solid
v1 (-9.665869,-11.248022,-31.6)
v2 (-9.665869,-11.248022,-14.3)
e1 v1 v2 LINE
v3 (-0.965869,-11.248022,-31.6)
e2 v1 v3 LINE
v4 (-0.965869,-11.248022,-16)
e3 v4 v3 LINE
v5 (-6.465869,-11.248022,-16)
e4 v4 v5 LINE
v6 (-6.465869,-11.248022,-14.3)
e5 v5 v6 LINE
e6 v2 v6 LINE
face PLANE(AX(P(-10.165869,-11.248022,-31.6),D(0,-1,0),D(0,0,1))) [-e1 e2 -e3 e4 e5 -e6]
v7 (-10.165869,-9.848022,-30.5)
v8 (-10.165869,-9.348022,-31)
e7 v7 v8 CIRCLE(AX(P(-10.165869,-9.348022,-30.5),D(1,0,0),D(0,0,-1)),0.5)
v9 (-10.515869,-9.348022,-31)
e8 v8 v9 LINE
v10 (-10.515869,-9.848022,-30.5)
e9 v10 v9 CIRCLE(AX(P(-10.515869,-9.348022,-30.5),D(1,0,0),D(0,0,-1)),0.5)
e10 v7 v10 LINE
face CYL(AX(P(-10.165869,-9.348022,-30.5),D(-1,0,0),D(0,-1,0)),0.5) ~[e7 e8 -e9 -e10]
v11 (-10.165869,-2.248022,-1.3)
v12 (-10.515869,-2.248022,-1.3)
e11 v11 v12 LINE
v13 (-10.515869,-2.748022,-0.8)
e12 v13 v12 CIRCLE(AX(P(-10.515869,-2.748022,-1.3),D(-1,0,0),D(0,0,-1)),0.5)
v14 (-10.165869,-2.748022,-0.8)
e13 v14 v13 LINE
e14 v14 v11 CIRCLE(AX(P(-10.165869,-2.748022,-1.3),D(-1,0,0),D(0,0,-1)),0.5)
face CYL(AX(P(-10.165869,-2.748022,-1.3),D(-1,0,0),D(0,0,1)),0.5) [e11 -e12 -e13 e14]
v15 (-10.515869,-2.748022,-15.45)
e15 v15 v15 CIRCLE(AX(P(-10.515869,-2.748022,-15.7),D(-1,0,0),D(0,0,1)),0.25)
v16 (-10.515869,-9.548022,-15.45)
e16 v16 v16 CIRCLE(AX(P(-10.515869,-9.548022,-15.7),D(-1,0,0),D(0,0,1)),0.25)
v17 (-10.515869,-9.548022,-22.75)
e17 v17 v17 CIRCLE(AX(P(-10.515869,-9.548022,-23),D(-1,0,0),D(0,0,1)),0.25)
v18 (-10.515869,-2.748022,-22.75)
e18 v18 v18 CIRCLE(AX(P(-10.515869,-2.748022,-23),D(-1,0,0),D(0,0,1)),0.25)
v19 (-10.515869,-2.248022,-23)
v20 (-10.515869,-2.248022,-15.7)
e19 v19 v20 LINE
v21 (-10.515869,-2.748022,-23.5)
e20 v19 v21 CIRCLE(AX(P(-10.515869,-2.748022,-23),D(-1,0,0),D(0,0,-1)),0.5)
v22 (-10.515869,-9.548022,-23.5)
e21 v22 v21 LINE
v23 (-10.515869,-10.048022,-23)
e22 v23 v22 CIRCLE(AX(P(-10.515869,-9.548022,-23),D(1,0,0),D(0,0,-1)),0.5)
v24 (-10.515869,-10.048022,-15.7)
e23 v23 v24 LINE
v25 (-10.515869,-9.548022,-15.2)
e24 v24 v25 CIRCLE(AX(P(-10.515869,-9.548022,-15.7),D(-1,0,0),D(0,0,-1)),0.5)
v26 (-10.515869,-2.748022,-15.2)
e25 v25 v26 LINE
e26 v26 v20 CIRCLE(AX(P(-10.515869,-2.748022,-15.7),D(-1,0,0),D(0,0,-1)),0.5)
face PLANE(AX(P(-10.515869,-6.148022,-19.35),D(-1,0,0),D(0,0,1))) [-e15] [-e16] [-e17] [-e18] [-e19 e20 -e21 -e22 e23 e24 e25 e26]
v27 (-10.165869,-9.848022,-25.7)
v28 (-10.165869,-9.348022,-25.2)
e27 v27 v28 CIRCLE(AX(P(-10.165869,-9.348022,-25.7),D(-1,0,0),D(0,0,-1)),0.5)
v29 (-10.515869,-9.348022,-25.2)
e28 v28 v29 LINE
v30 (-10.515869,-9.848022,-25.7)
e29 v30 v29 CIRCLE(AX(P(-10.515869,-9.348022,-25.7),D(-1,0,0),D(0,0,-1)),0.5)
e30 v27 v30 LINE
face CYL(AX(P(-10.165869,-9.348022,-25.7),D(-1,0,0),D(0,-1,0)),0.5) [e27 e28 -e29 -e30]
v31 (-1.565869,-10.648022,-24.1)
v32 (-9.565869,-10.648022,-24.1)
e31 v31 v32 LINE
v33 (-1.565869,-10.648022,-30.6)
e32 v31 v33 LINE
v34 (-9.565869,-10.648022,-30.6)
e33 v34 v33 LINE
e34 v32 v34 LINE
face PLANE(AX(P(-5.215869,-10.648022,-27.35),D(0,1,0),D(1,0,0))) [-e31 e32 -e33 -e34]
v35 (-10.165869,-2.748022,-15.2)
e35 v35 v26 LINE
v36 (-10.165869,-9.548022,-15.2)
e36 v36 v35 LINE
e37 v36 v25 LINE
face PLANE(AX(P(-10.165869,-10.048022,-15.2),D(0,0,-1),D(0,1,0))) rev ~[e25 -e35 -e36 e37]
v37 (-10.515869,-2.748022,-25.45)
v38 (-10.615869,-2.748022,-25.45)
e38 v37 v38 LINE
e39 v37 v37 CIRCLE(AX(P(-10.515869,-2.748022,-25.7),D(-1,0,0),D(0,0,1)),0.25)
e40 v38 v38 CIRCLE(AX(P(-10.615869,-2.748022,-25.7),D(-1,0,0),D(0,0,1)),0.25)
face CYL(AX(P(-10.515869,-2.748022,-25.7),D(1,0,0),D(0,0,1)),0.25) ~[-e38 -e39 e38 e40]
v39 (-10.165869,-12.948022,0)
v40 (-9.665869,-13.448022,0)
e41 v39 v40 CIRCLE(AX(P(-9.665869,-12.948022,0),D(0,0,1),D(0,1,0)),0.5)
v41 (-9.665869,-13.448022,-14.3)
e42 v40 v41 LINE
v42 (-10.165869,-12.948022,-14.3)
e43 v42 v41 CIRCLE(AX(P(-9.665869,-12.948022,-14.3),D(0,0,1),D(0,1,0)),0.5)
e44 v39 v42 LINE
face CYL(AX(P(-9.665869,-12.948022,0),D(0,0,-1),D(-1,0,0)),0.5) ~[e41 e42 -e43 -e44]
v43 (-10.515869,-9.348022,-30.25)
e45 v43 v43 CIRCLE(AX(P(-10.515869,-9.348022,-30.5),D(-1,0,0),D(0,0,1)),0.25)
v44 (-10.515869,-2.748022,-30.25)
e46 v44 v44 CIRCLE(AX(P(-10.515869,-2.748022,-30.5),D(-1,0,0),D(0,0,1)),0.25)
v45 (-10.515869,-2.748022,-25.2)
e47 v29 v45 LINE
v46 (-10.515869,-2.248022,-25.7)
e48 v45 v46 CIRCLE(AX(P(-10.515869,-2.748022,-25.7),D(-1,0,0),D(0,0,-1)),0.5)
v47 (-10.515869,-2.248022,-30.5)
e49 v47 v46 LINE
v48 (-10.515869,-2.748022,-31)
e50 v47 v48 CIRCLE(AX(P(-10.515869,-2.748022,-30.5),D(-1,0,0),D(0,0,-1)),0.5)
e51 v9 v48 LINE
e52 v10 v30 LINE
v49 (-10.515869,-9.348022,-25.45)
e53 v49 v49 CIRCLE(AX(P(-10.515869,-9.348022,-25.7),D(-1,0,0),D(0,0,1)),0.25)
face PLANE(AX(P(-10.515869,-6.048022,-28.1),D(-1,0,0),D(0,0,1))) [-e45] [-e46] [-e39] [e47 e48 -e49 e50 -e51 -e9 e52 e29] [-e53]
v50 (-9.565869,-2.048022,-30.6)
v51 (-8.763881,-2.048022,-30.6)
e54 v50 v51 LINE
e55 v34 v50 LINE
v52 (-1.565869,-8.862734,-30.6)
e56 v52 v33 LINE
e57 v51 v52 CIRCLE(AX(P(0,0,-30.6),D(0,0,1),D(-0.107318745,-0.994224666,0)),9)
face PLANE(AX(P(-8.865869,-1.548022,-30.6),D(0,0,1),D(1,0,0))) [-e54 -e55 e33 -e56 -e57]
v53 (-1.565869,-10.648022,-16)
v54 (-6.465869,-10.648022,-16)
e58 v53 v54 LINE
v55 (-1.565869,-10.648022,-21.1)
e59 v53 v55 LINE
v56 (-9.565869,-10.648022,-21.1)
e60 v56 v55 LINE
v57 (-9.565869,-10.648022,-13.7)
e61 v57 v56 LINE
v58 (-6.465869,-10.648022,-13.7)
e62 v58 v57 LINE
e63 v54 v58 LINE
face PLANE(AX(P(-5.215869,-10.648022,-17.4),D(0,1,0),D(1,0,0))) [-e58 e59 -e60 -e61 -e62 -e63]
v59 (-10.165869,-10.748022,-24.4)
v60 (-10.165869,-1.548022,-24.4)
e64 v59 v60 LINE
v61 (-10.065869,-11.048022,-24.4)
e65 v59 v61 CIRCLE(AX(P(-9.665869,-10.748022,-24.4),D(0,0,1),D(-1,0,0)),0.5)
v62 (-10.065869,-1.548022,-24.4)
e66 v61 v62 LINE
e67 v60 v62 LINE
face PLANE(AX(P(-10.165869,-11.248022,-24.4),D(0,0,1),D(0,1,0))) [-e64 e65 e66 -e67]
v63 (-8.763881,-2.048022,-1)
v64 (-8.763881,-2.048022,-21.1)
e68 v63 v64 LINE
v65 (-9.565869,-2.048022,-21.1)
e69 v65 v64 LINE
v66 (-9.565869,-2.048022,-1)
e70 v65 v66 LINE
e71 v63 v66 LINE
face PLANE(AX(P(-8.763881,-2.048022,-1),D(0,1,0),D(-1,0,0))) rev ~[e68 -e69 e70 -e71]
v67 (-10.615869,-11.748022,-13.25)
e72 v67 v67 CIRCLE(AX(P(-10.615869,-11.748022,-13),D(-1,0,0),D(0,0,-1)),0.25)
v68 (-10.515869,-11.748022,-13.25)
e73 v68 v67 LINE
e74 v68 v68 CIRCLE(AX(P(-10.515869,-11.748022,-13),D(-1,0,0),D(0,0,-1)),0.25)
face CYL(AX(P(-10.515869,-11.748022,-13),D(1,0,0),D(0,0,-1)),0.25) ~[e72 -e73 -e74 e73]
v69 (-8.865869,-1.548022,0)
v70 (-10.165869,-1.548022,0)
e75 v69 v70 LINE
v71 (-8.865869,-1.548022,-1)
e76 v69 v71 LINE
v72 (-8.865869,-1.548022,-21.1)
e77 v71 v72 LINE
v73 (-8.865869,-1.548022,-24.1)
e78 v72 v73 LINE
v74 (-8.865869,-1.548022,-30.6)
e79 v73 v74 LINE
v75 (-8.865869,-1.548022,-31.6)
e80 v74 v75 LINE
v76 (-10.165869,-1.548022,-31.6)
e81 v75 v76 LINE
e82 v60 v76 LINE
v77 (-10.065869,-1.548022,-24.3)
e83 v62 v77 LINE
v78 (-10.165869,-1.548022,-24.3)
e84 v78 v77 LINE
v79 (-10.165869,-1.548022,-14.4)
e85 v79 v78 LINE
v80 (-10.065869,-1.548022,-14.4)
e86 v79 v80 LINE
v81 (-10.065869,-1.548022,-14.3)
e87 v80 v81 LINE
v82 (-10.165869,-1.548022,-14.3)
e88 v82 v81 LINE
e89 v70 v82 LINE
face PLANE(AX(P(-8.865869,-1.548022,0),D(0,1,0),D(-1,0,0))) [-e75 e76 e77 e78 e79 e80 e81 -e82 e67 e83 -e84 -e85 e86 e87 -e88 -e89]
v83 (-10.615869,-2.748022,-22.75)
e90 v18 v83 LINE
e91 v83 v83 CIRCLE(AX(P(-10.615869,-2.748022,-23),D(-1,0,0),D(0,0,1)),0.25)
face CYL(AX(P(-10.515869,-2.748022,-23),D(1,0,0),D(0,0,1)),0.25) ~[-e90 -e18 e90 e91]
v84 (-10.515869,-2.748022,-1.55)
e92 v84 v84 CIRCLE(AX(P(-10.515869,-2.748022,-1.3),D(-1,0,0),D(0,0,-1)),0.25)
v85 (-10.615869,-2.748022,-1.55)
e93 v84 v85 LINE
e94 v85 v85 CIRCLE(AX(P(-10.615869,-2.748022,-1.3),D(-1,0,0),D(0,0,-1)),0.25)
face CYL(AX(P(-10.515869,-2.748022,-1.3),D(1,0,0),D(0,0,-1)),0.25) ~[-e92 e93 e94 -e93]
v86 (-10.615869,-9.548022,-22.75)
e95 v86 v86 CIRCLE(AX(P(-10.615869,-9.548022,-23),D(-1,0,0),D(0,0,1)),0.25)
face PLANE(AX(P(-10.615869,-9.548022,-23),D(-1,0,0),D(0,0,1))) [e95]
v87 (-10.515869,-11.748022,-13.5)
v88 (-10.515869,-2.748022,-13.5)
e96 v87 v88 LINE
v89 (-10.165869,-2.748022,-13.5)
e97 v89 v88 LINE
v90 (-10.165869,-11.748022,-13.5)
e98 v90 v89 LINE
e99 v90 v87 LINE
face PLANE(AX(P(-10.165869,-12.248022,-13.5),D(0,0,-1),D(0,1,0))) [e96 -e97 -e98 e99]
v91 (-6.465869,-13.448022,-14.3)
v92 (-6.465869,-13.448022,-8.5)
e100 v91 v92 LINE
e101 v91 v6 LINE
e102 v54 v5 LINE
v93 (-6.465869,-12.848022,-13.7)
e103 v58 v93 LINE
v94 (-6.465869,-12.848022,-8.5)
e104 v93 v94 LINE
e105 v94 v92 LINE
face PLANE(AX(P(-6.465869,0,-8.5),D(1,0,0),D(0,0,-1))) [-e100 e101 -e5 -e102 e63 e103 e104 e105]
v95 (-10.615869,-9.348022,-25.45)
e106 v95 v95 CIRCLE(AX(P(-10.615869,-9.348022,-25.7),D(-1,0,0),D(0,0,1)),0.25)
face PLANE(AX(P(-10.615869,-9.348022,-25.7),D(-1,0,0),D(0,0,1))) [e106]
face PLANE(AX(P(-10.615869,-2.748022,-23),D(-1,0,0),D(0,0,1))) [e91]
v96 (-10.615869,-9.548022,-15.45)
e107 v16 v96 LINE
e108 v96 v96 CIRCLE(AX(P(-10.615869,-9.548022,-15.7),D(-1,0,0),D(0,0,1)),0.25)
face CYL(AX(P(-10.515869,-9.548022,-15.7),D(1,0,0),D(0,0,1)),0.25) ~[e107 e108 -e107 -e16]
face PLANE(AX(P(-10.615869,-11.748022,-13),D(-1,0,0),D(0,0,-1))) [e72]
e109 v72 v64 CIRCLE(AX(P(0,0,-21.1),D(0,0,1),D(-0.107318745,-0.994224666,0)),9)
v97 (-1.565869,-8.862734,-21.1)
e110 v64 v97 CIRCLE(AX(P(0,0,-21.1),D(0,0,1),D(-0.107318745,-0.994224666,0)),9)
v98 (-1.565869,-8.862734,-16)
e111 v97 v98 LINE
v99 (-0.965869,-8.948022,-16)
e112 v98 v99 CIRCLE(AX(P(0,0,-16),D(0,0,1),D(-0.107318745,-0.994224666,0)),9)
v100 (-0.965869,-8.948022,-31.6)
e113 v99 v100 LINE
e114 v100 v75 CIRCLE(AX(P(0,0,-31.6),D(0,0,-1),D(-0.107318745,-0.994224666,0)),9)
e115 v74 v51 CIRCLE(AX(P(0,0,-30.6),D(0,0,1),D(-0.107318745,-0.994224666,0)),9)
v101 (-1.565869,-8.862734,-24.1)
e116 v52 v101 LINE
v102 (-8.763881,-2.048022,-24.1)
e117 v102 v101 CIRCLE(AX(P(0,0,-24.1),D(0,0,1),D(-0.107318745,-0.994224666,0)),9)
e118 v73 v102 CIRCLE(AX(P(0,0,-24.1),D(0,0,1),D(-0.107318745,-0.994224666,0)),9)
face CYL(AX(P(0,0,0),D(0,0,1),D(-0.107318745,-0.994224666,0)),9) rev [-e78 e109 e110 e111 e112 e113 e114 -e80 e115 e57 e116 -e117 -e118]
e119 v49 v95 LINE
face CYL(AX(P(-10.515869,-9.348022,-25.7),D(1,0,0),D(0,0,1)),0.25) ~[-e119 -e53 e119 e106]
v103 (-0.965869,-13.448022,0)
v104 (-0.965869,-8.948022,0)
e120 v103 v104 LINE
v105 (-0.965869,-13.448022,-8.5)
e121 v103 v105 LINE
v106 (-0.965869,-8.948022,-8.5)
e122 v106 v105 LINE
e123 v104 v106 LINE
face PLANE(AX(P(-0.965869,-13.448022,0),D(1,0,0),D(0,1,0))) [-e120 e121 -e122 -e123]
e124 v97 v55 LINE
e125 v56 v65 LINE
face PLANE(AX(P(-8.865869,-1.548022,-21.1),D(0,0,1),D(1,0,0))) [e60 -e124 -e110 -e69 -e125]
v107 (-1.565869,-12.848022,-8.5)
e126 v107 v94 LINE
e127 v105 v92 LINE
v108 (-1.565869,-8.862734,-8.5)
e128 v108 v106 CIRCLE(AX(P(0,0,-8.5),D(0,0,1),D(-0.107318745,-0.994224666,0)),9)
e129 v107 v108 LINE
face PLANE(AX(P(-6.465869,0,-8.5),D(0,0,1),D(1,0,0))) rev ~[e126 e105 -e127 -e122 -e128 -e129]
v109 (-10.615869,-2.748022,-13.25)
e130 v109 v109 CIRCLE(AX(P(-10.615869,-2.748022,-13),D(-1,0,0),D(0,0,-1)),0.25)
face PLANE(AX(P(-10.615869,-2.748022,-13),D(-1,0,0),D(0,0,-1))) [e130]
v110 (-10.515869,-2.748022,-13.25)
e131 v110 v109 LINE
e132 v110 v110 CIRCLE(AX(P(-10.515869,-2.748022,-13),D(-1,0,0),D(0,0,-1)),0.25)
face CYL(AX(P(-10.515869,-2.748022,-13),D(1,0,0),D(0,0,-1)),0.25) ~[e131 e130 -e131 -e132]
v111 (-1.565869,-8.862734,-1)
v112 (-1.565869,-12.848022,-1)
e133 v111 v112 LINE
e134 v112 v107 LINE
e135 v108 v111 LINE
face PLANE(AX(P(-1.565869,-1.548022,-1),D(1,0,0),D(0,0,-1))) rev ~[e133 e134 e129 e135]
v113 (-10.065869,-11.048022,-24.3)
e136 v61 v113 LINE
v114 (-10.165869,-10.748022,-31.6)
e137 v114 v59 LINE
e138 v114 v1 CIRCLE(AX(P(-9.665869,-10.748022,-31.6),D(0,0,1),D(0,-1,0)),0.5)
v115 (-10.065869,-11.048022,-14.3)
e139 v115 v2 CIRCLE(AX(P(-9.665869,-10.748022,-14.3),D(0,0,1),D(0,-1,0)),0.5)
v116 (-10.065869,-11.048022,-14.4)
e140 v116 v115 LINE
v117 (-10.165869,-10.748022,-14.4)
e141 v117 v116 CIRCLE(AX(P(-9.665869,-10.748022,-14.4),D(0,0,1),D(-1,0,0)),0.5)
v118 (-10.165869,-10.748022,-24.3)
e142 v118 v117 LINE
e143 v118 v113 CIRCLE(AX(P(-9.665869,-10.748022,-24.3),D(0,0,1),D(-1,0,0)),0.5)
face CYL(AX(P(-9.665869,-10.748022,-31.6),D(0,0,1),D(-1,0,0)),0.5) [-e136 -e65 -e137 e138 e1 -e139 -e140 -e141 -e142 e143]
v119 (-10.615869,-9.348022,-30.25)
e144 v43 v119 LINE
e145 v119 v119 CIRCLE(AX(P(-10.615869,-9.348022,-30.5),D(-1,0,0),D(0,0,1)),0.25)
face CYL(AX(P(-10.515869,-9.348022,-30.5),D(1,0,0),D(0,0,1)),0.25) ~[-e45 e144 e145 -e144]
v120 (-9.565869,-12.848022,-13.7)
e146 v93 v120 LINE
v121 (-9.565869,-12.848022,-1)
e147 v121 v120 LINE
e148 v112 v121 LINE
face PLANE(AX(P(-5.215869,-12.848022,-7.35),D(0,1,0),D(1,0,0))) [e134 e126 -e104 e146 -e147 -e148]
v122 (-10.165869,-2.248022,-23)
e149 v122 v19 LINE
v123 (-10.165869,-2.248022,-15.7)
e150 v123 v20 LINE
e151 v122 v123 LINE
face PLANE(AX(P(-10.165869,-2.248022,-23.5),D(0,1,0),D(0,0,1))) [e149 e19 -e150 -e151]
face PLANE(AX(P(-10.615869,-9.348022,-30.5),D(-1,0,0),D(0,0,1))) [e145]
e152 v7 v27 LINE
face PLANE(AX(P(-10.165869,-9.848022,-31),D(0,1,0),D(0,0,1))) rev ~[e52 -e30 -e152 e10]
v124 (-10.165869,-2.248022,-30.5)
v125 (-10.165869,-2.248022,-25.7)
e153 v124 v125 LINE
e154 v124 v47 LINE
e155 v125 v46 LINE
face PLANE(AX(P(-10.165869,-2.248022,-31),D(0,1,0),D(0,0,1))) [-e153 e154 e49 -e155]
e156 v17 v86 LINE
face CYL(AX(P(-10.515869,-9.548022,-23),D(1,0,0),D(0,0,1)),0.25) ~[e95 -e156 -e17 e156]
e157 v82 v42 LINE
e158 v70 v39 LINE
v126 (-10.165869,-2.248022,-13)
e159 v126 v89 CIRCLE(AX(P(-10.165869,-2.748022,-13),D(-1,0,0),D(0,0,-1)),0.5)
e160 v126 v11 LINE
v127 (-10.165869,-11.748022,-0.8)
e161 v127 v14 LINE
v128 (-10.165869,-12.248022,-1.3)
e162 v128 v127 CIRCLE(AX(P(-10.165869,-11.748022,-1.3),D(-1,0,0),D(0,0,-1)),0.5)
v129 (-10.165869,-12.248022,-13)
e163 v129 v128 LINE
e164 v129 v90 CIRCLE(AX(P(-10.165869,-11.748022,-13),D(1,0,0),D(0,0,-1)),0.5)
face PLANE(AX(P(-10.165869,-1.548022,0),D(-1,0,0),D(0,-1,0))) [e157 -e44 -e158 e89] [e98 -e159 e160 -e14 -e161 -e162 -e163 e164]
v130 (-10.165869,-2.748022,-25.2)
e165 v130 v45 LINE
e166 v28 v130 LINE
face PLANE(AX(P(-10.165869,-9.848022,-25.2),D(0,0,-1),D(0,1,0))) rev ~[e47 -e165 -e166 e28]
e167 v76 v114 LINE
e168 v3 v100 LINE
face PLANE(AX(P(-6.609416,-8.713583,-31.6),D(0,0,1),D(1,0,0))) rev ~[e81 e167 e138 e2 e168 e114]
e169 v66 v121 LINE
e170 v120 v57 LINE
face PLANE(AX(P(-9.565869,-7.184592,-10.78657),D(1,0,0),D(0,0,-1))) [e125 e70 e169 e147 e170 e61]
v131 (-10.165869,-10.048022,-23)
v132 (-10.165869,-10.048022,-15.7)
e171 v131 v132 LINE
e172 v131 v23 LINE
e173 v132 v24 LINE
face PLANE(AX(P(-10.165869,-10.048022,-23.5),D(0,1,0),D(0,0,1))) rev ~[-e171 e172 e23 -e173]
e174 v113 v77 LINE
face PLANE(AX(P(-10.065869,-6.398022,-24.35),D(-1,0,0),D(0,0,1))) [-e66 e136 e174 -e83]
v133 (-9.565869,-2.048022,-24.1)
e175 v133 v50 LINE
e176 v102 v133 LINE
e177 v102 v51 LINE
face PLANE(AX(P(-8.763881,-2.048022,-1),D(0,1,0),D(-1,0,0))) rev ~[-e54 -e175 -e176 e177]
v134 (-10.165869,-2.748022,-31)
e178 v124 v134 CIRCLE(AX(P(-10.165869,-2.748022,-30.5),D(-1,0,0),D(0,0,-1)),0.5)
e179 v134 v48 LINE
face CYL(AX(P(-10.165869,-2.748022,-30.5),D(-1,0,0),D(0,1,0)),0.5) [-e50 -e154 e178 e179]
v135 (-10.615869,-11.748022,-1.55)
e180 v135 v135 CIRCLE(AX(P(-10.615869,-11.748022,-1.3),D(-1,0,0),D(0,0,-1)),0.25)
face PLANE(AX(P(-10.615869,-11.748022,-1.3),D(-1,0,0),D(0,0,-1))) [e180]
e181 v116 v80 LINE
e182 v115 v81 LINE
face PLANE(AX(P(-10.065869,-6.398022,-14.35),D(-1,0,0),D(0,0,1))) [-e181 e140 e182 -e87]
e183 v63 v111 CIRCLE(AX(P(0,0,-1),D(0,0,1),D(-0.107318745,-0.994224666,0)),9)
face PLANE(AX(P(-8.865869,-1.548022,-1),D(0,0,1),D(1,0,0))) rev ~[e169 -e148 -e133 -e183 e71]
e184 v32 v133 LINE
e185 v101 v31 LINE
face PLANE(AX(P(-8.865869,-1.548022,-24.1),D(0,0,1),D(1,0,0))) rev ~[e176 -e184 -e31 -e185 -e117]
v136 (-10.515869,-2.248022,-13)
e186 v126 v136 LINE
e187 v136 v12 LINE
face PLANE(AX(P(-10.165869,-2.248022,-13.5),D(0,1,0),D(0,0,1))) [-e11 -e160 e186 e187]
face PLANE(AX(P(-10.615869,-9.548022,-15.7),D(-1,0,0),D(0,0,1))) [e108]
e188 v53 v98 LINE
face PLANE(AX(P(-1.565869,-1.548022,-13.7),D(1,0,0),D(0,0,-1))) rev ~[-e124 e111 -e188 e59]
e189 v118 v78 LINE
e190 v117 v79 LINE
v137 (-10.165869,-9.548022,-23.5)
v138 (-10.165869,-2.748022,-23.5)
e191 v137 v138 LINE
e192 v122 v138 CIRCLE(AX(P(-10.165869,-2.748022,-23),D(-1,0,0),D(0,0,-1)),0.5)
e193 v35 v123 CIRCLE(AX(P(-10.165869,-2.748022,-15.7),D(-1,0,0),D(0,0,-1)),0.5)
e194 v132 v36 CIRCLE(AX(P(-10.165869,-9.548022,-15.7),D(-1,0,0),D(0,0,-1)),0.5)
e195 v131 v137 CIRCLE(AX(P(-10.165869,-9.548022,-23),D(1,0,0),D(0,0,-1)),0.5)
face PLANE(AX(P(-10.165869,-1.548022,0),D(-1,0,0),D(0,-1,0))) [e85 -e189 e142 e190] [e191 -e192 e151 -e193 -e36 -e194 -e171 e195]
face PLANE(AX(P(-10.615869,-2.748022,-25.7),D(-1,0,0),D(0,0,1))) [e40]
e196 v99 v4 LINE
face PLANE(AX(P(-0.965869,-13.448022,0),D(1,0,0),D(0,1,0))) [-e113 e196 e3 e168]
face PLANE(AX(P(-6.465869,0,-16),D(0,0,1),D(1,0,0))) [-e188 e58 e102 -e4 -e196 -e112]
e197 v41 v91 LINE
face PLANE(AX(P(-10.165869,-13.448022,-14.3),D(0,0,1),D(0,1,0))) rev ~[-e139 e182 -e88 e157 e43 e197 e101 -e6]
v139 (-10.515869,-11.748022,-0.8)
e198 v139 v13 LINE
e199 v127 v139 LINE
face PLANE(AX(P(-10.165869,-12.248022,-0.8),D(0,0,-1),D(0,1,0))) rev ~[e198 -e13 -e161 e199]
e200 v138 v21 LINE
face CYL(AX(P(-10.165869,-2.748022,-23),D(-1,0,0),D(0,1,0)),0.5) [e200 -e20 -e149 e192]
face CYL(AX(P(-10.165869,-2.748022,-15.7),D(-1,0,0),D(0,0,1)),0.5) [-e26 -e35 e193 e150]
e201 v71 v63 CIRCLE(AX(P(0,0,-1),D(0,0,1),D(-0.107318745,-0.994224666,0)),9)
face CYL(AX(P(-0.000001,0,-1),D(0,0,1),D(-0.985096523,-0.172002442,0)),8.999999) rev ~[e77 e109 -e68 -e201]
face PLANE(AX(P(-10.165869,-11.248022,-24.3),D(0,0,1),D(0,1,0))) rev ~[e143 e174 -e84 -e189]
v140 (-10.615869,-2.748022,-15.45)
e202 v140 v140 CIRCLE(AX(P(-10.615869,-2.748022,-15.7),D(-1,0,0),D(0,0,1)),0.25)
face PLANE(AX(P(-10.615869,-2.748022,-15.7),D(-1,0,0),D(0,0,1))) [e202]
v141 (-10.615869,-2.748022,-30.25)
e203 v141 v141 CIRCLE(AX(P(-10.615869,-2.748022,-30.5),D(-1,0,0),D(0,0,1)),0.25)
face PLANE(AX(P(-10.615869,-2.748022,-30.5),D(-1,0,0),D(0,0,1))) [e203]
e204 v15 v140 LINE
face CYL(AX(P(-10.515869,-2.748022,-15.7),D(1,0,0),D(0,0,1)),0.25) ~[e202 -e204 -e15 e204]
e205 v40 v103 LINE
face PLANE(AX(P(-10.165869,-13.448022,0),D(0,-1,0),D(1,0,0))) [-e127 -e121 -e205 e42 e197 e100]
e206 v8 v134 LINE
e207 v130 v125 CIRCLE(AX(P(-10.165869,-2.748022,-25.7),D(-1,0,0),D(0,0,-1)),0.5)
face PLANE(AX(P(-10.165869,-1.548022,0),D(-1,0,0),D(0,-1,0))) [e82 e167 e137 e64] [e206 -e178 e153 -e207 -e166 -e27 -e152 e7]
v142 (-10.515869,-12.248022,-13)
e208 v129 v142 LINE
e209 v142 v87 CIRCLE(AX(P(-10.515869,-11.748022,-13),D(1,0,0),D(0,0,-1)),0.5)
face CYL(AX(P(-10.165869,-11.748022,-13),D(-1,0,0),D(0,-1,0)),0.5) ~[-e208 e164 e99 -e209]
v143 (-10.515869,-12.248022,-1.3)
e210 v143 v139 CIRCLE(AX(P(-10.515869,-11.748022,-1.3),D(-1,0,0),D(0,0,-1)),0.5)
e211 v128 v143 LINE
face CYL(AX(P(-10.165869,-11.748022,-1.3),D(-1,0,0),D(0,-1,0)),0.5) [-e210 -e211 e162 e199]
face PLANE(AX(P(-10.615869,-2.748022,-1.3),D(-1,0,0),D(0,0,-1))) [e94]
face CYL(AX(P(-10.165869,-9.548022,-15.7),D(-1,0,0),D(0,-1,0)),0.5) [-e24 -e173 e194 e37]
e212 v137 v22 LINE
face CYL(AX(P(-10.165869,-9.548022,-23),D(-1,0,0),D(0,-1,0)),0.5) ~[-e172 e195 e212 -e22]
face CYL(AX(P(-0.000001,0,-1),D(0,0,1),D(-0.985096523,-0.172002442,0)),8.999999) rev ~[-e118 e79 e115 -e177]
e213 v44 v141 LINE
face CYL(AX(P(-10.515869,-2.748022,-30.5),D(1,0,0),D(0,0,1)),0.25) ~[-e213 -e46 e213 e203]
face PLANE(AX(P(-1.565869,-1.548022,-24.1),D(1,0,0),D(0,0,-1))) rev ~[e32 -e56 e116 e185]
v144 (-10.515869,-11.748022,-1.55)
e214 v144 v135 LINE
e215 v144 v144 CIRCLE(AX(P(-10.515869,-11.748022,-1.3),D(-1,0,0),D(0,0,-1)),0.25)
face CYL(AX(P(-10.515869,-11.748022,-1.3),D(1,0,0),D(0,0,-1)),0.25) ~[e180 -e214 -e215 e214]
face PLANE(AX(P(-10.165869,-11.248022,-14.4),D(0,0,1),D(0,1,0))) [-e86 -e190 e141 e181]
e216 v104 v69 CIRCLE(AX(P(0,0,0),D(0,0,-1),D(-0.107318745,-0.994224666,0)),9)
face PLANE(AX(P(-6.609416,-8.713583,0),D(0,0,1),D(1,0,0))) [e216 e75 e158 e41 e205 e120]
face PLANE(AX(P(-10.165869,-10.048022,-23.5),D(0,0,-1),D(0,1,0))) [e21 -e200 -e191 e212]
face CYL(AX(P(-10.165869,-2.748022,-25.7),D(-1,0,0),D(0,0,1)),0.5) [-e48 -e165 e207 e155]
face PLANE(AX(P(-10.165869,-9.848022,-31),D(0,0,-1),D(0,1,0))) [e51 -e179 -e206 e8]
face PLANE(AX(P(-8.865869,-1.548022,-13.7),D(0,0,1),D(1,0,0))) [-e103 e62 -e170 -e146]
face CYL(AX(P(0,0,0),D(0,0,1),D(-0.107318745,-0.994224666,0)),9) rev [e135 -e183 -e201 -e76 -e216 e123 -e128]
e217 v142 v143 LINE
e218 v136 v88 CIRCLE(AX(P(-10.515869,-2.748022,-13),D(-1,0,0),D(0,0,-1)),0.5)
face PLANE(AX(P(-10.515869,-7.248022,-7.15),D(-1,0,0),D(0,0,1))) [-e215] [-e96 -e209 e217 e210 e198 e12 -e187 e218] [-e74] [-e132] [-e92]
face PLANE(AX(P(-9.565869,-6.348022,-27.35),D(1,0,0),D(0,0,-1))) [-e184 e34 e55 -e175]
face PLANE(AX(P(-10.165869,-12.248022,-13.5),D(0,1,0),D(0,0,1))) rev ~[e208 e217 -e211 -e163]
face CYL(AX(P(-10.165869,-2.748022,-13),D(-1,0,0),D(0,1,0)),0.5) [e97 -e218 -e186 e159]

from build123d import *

# Parameters (mm, degrees)
BOSS_EXTRUDE1_DEPTH = 31.6
SKETCH4_W           = 12.7
SKETCH4_H           = 10
SKETCH4_W_2         = 8.3
SKETCH4_H_2         = 7.8
SKETCH4_W_3         = 5.8
SKETCH4_H_3         = 7.6
BOSS_EXTRUDE2_DEPTH = 0.35
FILLET1_R           = 0.5
SKETCH5_R           = 0.25
BOSS_EXTRUDE3_DEPTH = 0.1
SKETCH19_W          = 17.3
SKETCH19_H          = 2.2
CUT_EXTRUDE11_DEPTH = 36.553470936
FILLET2_R           = 0.5
SKETCH21_W          = 0.1
SKETCH21_H          = 9.7
CUT_EXTRUDE13_DEPTH = 0.1
SKETCH20_W          = 5.5
SKETCH20_H          = 7.5
CUT_EXTRUDE12_DEPTH = 36.945875479
SKETCH22_W          = 7.3
SKETCH22_H          = 12.7
CUT_EXTRUDE14_DEPTH = 11.3
SKETCH22_3_W        = 7.3
SKETCH22_3_H        = 7.4
SKETCH22_3_H_2      = 6.5
CUT_EXTRUDE15_DEPTH = 9.1
SKETCH23_W          = 6.5
SKETCH23_H          = 8.6
CUT_EXTRUDE16_DEPTH = 0.7
BOSS_EXTRUDE4_REACH = 37.07


with BuildPart() as part:
    # Sketch2 → Boss-Extrude1 (new body)
    with BuildSketch(Plane.XY):
        with BuildLine():
            Line((-0.965868705, -13.448021996), (-0.965868705, -8.948021996))
            ThreePointArc((-0.965868705, -8.948021996), (-6.152703888, -6.568427123), (-8.865868705, -1.548021996))
            Line((-8.865868705, -1.548021996), (-10.165868705, -1.548021996))
            Line((-10.165868705, -1.548021996), (-10.165868705, -13.448021996))
            Line((-10.165868705, -13.448021996), (-0.965868705, -13.448021996))
        make_face()
    extrude(amount=-BOSS_EXTRUDE1_DEPTH)

    # Sketch4 → Boss-Extrude2 (add)
    with BuildSketch(Plane.ZY.offset(10.165868705)):
        with Locations((-7.15, -7.248021996)):
            Rectangle(SKETCH4_W, SKETCH4_H)
        with Locations((-19.35, -6.148021996)):
            Rectangle(SKETCH4_W_2, SKETCH4_H_2)
        with Locations((-28.1, -6.048021996)):
            Rectangle(SKETCH4_W_3, SKETCH4_H_3)
    extrude(amount=BOSS_EXTRUDE2_DEPTH)

    # Fillet1
    fillet1_edges = [part.edges().sort_by_distance(p)[0] for p in [
        (-10.340868705, -2.248021996, -13.5),
        (-10.340868705, -12.248021996, -13.5),
        (-10.340868705, -12.248021996, -0.8),
        (-10.340868705, -2.248021996, -0.8),
        (-10.340868705, -2.248021996, -31),
        (-10.340868705, -9.848021996, -31),
        (-10.340868705, -9.848021996, -25.2),
        (-10.340868705, -2.248021996, -25.2),
        (-10.340868705, -2.248021996, -23.5),
        (-10.340868705, -10.048021996, -23.5),
        (-10.340868705, -10.048021996, -15.2),
        (-10.340868705, -2.248021996, -15.2),
    ]]
    fillet(fillet1_edges, radius=FILLET1_R)

    # Sketch5 → Boss-Extrude3 (add)
    with BuildSketch(Plane.ZY.offset(10.515868705)):
        with Locations(Location((-13, -2.748021996, 0), (0, 0, 180))):
            Circle(SKETCH5_R)
        with Locations(Location((-1.3, -2.748021996, 0), (0, 0, 180))):
            Circle(SKETCH5_R)
        with Locations((-23, -2.748021996)):
            Circle(SKETCH5_R)
        with Locations((-23, -9.548021996)):
            Circle(SKETCH5_R)
        with Locations(Location((-1.3, -11.748021996, 0), (0, 0, 180))):
            Circle(SKETCH5_R)
        with Locations(Location((-13, -11.748021996, 0), (0, 0, 180))):
            Circle(SKETCH5_R)
        with Locations((-15.7, -2.748021996)):
            Circle(SKETCH5_R)
        with Locations((-15.7, -9.548021996)):
            Circle(SKETCH5_R)
        with Locations((-30.5, -2.748021996)):
            Circle(SKETCH5_R)
        with Locations((-25.7, -2.748021996)):
            Circle(SKETCH5_R)
        with Locations((-25.7, -9.348021996)):
            Circle(SKETCH5_R)
        with Locations((-30.5, -9.348021996)):
            Circle(SKETCH5_R)
    extrude(amount=BOSS_EXTRUDE3_DEPTH)

    # Sketch19 → Cut-Extrude11 (cut, through all)
    with BuildSketch(Plane.ZY.offset(10.165868705)):
        with Locations((-22.95, -12.348021996)):
            Rectangle(SKETCH19_W, SKETCH19_H)
    extrude(amount=-CUT_EXTRUDE11_DEPTH, mode=Mode.SUBTRACT)

    # Fillet2
    fillet2_edges = [part.edges().sort_by_distance(p)[0] for p in [
        (-10.165868705, -13.448021996, -7.15),
        (-10.165868705, -11.248021996, -22.95),
    ]]
    fillet(fillet2_edges, radius=FILLET2_R)

    # Sketch21 → Cut-Extrude13 (cut)
    with BuildSketch(Plane.ZY.offset(10.165868705)):
        with Locations((-14.35, -6.398021996)):
            Rectangle(SKETCH21_W, SKETCH21_H)
        with Locations((-24.35, -6.398021996)):
            Rectangle(SKETCH21_W, SKETCH21_H)
    extrude(amount=-CUT_EXTRUDE13_DEPTH, mode=Mode.SUBTRACT)

    # Sketch20 → Cut-Extrude12 (cut, through all)
    with BuildSketch(Plane(origin=(0, 0, 0), x_dir=(1, 0, 0), z_dir=(0, 1, 0))):
        with Locations((-3.715868705, 12.25)):
            Rectangle(SKETCH20_W, SKETCH20_H)
    extrude(amount=-CUT_EXTRUDE12_DEPTH, mode=Mode.SUBTRACT)

    # Sketch22 → Cut-Extrude14 (cut)
    with BuildSketch(Plane(origin=(0, -1.548021996, 0), x_dir=(1, 0, 0), z_dir=(0, 1, 0))):
        with Locations((-5.215868705, 7.35)):
            Rectangle(SKETCH22_W, SKETCH22_H)
    extrude(amount=-CUT_EXTRUDE14_DEPTH, mode=Mode.SUBTRACT)

    # Sketch22<3> → Cut-Extrude15 (cut)
    with BuildSketch(Plane(origin=(0, -1.548021996, 0), x_dir=(1, 0, 0), z_dir=(0, 1, 0))):
        with Locations((-5.215868705, 17.4)):
            Rectangle(SKETCH22_3_W, SKETCH22_3_H)
        with Locations((-5.215868705, 27.35)):
            Rectangle(SKETCH22_3_W, SKETCH22_3_H_2)
    extrude(amount=-CUT_EXTRUDE15_DEPTH, mode=Mode.SUBTRACT)

    # Sketch23 → Cut-Extrude16 (cut)
    with BuildSketch(Plane(origin=(-8.865868705, 0, 0), x_dir=(0, 0, -1), z_dir=(1, 0, 0))):
        Polygon((1, -12.848021996), (13.7, -12.848021996), (13.7, -10.648021996), (21.1, -10.648021996), (21.1, -2.048021996), (1, -2.048021996), align=None)
        with Locations((27.35, -6.348021996)):
            Rectangle(SKETCH23_W, SKETCH23_H)
    extrude(amount=-CUT_EXTRUDE16_DEPTH, mode=Mode.SUBTRACT)

    # Sketch24 → Boss-Extrude4 (add, up to next)
    with BuildSketch(Plane(origin=(0, 0, -1), x_dir=(-1, 0, 0), z_dir=(0, 0, -1)), mode=Mode.PRIVATE) as boss_extrude4_sk1:
        with BuildLine():
            Line((8.865868705, -2.048021996), (8.865868705, -1.548021996))
            ThreePointArc((8.865868705, -1.548021996), (8.818419162, -1.798744975), (8.763880756, -2.048021996))
            Line((8.763880756, -2.048021996), (8.865868705, -2.048021996))
        make_face()
    boss_extrude4_tool1 = extrude(boss_extrude4_sk1.sketch, amount=BOSS_EXTRUDE4_REACH, mode=Mode.PRIVATE) - part.part
    add(boss_extrude4_tool1.solids().sort_by_distance((-8.832663, -1.885567, -1))[0])
    add(boss_extrude4_tool1.solids().sort_by_distance((-8.832663, -1.885567, -1))[1])


solid = part.part
